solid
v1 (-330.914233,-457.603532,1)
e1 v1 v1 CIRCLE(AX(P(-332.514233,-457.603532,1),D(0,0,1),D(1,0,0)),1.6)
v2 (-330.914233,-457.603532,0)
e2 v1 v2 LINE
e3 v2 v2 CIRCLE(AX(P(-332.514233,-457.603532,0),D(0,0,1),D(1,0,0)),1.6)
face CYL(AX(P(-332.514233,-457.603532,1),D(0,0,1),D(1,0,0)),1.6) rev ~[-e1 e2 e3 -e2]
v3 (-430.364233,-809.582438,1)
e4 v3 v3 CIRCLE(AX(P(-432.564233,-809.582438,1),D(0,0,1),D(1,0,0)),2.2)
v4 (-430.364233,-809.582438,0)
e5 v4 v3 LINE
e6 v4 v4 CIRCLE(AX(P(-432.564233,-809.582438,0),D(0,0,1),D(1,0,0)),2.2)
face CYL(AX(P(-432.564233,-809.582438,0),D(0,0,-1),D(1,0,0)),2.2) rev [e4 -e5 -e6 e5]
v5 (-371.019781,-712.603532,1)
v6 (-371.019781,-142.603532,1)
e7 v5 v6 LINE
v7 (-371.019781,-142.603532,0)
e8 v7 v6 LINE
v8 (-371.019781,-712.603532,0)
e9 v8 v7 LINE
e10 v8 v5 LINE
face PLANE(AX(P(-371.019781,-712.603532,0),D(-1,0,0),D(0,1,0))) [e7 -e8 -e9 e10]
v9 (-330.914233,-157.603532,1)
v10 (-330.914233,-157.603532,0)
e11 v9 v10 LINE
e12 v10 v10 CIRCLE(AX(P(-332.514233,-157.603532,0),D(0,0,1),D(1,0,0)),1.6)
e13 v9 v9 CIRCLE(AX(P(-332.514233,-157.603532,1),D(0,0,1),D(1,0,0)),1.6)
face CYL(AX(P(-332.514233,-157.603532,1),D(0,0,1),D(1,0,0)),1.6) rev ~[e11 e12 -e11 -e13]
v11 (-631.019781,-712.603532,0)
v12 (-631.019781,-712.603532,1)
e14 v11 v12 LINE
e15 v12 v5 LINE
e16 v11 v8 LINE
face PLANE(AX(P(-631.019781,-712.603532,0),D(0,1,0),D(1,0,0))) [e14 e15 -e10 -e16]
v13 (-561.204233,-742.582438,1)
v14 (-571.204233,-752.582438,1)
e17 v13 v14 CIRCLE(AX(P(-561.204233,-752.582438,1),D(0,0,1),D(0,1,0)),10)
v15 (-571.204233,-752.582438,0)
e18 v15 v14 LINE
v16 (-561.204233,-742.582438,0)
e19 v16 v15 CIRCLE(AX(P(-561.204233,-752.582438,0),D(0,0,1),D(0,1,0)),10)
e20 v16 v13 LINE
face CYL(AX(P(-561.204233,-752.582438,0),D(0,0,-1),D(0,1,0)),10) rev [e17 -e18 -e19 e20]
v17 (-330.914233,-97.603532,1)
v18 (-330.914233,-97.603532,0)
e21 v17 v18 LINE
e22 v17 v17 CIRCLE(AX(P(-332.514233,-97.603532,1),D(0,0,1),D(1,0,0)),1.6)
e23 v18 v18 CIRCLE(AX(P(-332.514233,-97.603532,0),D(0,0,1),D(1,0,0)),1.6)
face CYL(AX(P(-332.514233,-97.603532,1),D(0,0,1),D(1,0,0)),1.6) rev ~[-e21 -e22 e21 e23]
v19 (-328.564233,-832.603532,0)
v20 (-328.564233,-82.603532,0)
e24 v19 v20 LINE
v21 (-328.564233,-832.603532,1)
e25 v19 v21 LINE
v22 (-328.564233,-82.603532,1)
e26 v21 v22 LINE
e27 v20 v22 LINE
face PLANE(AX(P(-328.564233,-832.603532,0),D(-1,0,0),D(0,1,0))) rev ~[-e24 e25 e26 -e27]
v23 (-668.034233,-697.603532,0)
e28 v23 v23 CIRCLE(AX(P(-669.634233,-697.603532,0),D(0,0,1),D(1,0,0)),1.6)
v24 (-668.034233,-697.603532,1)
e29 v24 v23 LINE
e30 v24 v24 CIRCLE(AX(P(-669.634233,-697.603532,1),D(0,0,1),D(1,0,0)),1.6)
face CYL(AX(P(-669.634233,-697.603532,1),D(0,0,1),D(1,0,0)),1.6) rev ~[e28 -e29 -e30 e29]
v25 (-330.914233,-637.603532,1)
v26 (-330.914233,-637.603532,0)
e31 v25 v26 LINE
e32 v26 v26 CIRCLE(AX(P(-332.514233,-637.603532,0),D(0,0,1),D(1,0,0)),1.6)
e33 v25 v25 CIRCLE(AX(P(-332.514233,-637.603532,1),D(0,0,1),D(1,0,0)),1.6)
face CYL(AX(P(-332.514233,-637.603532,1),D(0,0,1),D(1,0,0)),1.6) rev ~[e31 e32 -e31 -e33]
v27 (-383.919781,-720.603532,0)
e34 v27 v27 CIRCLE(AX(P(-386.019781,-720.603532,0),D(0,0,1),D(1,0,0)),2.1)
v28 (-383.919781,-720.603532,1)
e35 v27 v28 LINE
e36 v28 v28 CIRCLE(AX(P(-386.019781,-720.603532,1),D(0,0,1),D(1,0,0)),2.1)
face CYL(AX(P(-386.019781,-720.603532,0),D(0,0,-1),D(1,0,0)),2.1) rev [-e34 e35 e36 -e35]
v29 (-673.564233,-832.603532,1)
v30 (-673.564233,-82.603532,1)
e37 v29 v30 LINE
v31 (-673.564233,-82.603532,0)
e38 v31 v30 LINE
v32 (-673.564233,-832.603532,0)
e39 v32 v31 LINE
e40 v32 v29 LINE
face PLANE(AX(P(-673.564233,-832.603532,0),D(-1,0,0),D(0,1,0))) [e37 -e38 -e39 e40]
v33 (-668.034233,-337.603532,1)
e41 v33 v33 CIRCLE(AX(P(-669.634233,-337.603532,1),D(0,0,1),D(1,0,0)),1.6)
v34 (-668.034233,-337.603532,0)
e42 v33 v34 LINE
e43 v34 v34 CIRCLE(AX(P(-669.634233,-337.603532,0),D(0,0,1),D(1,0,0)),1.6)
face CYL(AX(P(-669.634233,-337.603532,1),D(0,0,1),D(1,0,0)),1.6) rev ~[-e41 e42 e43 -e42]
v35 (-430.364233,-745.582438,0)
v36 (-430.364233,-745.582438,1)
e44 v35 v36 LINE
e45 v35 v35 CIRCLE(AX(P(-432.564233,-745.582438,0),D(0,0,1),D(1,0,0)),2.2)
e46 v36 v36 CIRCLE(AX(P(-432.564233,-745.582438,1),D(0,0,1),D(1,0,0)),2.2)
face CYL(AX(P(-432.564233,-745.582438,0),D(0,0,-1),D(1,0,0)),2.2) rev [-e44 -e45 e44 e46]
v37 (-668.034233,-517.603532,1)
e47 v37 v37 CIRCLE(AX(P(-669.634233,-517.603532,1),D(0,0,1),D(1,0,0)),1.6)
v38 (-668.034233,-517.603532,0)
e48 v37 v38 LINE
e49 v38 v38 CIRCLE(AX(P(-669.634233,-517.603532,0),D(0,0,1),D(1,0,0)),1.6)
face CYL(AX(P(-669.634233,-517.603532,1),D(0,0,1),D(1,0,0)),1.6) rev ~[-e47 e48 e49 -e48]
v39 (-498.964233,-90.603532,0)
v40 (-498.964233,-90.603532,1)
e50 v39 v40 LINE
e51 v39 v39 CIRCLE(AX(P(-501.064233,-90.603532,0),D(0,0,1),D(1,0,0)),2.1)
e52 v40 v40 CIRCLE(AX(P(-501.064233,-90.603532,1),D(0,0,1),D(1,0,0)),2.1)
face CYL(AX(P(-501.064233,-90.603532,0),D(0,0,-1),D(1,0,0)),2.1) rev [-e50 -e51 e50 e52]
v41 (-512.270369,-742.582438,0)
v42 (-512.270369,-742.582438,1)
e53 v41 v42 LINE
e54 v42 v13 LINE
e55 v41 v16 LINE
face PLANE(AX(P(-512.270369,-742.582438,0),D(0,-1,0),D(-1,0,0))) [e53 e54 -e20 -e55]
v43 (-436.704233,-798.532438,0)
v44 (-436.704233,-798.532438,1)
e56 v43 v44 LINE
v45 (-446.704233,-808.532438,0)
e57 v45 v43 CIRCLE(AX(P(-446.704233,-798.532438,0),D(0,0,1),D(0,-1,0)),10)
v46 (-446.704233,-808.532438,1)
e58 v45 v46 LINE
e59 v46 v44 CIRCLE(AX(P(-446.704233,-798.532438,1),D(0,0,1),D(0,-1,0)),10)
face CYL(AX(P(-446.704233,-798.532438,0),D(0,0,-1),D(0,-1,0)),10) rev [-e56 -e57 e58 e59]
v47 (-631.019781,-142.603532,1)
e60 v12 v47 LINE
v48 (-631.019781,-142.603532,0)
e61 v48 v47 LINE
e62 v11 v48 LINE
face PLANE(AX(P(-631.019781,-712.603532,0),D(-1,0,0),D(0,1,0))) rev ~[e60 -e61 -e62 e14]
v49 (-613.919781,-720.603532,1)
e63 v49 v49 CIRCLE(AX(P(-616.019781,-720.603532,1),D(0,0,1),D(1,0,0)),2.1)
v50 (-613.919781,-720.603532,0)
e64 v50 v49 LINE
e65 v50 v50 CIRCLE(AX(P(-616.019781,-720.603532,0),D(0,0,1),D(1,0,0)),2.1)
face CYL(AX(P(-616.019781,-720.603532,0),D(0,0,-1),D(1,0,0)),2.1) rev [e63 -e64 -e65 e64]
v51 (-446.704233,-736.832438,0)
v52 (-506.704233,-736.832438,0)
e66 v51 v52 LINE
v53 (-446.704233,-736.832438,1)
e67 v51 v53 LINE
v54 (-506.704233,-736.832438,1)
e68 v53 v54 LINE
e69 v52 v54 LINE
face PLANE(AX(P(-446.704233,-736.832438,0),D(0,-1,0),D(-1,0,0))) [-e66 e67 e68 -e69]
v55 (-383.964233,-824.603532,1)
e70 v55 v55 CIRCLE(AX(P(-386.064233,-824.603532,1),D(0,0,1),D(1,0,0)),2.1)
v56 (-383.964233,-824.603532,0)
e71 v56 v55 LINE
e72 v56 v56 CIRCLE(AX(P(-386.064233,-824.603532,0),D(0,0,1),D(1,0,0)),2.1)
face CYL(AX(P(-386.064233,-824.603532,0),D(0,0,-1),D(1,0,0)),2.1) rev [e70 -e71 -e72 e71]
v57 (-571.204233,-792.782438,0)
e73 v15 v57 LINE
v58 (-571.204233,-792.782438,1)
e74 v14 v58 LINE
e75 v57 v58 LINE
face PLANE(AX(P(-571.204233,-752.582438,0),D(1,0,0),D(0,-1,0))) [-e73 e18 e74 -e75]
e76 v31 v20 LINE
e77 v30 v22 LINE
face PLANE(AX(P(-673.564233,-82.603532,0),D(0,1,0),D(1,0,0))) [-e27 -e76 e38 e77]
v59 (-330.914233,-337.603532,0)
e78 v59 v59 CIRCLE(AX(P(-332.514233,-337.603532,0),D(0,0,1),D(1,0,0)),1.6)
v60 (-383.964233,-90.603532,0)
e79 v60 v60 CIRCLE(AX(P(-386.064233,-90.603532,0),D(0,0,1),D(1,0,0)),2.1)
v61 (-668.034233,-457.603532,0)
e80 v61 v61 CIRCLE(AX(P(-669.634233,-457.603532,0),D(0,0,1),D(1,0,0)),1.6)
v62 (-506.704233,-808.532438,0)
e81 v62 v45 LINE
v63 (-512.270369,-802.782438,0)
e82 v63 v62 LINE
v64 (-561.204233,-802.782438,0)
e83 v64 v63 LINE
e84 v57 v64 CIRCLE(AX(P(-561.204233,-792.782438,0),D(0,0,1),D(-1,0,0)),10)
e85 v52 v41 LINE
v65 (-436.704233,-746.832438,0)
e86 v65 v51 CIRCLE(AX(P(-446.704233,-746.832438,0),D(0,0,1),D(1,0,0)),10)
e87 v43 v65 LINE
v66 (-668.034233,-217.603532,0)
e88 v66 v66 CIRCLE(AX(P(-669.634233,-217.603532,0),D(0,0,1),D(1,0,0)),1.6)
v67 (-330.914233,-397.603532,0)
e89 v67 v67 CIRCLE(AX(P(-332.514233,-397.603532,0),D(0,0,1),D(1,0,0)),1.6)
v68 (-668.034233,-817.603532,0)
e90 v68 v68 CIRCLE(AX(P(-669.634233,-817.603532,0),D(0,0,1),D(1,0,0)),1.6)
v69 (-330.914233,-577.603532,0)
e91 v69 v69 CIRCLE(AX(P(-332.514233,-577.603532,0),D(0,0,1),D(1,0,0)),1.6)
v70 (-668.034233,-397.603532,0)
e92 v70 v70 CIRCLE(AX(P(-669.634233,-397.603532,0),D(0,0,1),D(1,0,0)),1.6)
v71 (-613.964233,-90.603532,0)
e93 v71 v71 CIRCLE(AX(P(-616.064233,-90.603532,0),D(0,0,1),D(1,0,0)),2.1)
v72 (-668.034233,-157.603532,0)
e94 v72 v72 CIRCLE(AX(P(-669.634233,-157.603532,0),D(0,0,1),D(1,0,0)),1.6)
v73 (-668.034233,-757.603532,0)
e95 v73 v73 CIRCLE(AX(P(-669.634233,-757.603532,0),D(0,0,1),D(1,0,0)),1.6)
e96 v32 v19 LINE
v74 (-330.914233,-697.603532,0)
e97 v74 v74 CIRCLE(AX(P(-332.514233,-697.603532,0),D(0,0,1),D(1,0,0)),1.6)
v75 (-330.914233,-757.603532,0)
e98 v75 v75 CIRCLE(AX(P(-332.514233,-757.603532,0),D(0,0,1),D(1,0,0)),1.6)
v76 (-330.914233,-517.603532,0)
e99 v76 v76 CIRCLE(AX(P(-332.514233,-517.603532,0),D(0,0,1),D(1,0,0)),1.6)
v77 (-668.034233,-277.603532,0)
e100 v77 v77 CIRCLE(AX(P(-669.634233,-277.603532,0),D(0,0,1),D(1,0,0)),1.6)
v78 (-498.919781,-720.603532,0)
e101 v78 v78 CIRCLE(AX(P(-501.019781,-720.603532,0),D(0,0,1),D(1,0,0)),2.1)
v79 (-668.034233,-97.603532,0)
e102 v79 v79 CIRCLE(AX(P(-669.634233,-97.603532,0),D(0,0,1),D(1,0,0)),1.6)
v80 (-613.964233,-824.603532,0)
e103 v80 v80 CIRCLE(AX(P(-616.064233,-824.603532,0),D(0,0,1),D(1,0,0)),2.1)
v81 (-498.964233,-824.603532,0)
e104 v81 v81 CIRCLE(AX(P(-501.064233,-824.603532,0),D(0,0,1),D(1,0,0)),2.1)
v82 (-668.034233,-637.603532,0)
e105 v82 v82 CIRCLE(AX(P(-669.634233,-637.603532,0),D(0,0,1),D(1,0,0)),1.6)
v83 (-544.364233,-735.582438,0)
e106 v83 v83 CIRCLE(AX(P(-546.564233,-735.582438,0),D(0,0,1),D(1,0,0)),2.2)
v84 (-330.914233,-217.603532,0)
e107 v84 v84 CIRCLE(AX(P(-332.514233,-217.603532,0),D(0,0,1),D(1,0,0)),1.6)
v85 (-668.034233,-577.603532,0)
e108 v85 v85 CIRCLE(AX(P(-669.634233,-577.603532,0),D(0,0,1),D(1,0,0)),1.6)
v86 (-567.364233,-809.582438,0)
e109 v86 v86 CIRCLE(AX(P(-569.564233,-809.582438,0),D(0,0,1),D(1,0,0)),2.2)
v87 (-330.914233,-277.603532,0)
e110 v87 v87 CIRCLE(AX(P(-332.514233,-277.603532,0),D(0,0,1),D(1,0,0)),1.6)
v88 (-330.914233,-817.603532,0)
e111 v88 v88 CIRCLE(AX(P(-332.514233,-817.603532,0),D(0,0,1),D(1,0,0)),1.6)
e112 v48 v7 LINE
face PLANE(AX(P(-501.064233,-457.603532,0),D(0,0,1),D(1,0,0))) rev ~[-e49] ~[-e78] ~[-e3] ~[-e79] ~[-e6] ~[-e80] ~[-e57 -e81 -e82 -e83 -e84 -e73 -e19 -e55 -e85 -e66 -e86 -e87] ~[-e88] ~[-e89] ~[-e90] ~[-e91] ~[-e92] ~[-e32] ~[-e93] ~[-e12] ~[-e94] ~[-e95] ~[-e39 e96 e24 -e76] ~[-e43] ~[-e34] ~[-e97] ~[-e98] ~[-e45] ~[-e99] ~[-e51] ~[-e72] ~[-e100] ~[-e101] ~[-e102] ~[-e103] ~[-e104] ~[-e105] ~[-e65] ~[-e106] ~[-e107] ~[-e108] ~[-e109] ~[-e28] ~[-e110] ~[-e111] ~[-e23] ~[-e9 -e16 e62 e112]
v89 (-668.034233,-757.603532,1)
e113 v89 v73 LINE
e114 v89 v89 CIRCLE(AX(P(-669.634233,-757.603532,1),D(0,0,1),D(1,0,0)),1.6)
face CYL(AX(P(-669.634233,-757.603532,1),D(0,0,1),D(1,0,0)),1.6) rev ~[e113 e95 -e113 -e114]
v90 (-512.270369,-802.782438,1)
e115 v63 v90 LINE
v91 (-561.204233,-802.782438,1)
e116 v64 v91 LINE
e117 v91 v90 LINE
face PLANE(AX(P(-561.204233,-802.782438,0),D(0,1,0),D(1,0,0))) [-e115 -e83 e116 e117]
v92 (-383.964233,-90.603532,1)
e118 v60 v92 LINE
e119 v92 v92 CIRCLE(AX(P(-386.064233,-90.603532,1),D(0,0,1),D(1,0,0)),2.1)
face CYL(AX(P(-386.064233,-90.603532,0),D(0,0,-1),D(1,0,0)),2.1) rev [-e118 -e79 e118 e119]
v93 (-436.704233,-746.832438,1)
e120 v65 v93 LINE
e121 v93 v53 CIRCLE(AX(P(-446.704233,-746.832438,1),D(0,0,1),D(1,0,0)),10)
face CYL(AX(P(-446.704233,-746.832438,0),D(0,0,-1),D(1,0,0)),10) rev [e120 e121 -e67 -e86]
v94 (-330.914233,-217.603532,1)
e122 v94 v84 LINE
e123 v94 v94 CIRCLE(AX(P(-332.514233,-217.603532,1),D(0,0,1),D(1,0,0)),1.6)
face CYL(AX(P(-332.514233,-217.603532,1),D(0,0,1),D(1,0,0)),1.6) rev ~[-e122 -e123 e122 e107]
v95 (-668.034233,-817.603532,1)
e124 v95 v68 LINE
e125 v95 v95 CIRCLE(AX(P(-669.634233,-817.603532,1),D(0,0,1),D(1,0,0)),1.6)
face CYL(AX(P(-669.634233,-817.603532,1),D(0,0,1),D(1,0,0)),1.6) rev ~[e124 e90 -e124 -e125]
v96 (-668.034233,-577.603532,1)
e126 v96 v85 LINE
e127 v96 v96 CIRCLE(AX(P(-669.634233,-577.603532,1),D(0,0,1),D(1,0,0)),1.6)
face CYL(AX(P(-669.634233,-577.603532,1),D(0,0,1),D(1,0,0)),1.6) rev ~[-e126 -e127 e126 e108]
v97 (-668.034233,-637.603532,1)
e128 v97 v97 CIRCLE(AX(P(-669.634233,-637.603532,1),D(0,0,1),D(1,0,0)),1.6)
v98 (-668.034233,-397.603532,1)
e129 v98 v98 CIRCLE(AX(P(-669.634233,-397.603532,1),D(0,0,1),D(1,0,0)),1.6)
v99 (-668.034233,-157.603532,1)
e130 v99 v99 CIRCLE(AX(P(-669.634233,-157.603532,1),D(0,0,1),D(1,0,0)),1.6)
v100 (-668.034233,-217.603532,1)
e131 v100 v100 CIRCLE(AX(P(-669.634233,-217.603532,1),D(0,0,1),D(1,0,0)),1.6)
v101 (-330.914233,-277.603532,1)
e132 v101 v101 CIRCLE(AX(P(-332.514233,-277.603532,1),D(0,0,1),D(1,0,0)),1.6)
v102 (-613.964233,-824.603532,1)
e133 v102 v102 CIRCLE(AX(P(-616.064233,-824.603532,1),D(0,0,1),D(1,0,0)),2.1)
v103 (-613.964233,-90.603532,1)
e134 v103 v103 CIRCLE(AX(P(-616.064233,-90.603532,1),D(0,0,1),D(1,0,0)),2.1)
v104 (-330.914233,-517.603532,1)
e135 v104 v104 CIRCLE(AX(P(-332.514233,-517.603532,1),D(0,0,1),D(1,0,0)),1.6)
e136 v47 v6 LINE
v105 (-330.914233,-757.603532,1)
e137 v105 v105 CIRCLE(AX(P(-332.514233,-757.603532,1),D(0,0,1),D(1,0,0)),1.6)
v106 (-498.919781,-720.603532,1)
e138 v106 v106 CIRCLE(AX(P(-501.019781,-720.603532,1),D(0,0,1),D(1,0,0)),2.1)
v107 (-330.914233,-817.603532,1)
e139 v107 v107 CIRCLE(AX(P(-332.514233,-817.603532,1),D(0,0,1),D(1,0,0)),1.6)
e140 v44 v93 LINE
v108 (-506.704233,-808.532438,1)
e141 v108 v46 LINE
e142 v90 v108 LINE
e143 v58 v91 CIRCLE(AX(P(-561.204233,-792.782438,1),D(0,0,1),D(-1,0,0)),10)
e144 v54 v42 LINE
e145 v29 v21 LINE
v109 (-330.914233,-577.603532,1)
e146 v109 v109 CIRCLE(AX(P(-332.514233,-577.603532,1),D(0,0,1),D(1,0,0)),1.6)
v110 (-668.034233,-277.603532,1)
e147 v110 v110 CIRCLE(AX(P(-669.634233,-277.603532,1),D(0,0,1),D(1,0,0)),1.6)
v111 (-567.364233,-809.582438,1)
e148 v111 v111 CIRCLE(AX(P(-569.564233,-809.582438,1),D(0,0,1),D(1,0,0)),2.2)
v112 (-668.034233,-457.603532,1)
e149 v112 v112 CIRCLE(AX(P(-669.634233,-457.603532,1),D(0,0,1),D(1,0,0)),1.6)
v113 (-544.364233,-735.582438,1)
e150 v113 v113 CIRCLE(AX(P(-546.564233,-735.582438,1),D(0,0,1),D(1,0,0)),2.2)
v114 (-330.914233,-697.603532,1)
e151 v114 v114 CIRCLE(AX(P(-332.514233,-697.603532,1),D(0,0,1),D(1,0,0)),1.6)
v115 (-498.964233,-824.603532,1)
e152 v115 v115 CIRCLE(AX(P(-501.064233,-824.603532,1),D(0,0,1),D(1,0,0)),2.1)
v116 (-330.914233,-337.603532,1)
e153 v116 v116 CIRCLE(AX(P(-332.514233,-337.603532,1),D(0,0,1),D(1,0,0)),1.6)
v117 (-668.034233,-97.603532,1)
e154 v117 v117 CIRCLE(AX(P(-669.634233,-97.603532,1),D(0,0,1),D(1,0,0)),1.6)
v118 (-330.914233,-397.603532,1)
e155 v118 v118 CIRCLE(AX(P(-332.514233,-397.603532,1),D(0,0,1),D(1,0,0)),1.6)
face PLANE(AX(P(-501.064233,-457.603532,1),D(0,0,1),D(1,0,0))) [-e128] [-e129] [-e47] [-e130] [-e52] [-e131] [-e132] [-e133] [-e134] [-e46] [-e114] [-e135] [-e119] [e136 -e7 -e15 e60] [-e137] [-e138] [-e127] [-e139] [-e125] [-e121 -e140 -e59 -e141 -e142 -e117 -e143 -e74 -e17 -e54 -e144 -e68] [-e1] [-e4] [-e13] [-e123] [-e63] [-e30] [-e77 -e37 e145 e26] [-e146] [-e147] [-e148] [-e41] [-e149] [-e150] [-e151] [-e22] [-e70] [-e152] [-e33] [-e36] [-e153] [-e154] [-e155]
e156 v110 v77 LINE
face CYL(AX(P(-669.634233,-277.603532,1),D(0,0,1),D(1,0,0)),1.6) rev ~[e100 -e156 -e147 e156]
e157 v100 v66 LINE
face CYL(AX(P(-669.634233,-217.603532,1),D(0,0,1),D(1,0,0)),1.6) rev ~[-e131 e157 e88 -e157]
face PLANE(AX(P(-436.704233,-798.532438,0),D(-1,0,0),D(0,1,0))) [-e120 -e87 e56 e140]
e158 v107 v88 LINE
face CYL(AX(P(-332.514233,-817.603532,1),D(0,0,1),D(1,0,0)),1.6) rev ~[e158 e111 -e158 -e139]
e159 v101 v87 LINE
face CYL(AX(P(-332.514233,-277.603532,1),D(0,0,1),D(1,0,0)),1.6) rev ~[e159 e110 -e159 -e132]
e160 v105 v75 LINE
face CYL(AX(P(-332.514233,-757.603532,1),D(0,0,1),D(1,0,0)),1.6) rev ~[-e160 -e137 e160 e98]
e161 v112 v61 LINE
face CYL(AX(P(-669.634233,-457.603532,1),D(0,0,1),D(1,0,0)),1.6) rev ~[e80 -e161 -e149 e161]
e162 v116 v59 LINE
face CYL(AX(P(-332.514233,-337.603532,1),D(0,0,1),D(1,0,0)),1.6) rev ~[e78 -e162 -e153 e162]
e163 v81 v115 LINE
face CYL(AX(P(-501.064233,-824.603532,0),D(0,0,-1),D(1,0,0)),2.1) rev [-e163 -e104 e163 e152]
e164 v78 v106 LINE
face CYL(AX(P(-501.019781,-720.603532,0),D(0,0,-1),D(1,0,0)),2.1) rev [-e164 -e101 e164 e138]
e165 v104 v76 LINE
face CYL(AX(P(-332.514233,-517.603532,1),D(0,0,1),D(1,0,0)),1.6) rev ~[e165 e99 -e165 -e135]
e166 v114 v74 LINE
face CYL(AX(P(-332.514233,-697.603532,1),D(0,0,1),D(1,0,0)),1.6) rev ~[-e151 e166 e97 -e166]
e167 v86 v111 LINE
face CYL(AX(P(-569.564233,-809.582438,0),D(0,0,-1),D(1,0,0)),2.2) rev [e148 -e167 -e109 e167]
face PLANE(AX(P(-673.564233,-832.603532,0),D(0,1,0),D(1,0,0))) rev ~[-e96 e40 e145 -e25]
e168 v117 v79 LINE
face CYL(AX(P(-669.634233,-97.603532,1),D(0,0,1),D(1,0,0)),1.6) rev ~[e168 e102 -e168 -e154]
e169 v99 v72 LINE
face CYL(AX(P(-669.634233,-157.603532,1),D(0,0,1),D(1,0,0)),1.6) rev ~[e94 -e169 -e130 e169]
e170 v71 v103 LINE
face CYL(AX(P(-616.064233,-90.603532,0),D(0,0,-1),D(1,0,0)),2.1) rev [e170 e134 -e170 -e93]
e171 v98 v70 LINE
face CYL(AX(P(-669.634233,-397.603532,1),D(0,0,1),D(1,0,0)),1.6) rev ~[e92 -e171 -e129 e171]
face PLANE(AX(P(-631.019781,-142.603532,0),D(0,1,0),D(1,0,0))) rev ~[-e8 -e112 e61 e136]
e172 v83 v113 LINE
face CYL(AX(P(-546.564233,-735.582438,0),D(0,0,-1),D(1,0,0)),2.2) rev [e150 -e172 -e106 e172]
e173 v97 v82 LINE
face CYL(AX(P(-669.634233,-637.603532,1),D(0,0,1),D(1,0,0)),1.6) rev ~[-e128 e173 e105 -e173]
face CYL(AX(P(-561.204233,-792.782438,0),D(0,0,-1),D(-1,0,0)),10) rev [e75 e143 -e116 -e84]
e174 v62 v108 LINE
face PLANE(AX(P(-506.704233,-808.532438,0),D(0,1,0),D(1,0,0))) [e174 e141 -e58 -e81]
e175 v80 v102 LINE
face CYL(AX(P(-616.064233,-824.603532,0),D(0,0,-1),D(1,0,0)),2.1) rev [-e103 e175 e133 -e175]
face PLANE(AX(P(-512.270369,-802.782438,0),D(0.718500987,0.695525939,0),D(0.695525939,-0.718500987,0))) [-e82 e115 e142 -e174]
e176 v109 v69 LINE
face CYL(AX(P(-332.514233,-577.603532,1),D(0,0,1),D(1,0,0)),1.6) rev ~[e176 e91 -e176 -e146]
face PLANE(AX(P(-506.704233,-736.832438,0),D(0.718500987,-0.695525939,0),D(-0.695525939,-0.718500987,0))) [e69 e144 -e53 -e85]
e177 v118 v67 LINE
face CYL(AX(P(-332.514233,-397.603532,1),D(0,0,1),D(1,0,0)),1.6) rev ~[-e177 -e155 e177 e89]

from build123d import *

# Parameters (mm, degrees)
SKETCH1_W           = 345
SKETCH1_H           = 750
SKETCH1_R           = 2.2
SKETCH1_R_2         = 2.1
SKETCH1_W_2         = 260
SKETCH1_H_2         = 570
BOSS_EXTRUDE1_DEPTH = 1
SKETCH2_R           = 1.6
CUT_EXTRUDE1_DEPTH  = 1
SKETCH3_R           = 1.6
CUT_EXTRUDE2_DEPTH  = 1


with BuildPart() as part:
    # Sketch1 → Boss-Extrude1 (new body)
    with BuildSketch(Plane.XY):
        with Locations((-501.064232917, -457.603531907)):
            Rectangle(SKETCH1_W, SKETCH1_H)
        with Locations((-432.564232917, -809.582438144)):
            Circle(SKETCH1_R, mode=Mode.SUBTRACT)
        with Locations((-432.564232917, -745.582438144)):
            Circle(SKETCH1_R, mode=Mode.SUBTRACT)
        with Locations((-546.564232917, -735.582438144)):
            Circle(SKETCH1_R, mode=Mode.SUBTRACT)
        with Locations((-569.564232917, -809.582438144)):
            Circle(SKETCH1_R, mode=Mode.SUBTRACT)
        with Locations((-501.064232917, -90.603531907)):
            Circle(SKETCH1_R_2, mode=Mode.SUBTRACT)
        with Locations((-616.064232917, -90.603531907)):
            Circle(SKETCH1_R_2, mode=Mode.SUBTRACT)
        with Locations((-386.064232917, -90.603531907)):
            Circle(SKETCH1_R_2, mode=Mode.SUBTRACT)
        with Locations((-616.01978091, -720.603531907)):
            Circle(SKETCH1_R_2, mode=Mode.SUBTRACT)
        with Locations((-501.01978091, -720.603531907)):
            Circle(SKETCH1_R_2, mode=Mode.SUBTRACT)
        with Locations((-386.01978091, -720.603531907)):
            Circle(SKETCH1_R_2, mode=Mode.SUBTRACT)
        with Locations((-386.064232917, -824.603531907)):
            Circle(SKETCH1_R_2, mode=Mode.SUBTRACT)
        with Locations((-501.064232917, -824.603531907)):
            Circle(SKETCH1_R_2, mode=Mode.SUBTRACT)
        with Locations((-616.064232917, -824.603531907)):
            Circle(SKETCH1_R_2, mode=Mode.SUBTRACT)
        with Locations((-501.01978091, -427.603531907)):
            Rectangle(SKETCH1_W_2, SKETCH1_H_2, mode=Mode.SUBTRACT)
        with BuildLine():
            Line((-436.704232917, -798.532438144), (-436.704232917, -746.832438144))
            ThreePointArc((-436.704232917, -746.832438144), (-439.633165105, -739.761370332), (-446.704232917, -736.832438144))
            Line((-446.704232917, -736.832438144), (-506.704232917, -736.832438144))
            Line((-506.704232917, -736.832438144), (-512.270368826, -742.582438144))
            Line((-512.270368826, -742.582438144), (-561.204232917, -742.582438144))
            ThreePointArc((-561.204232917, -742.582438144), (-568.275300729, -745.511370332), (-571.204232917, -752.582438144))
            Line((-571.204232917, -752.582438144), (-571.204232917, -792.782438144))
            ThreePointArc((-571.204232917, -792.782438144), (-568.275300729, -799.853505955), (-561.204232917, -802.782438144))
            Line((-561.204232917, -802.782438144), (-512.270368826, -802.782438144))
            Line((-512.270368826, -802.782438144), (-506.704232917, -808.532438144))
            Line((-506.704232917, -808.532438144), (-446.704232917, -808.532438144))
            ThreePointArc((-446.704232917, -808.532438144), (-439.633165105, -805.603505955), (-436.704232917, -798.532438144))
        make_face(mode=Mode.SUBTRACT)
    extrude(amount=BOSS_EXTRUDE1_DEPTH)

    # Sketch2 → Cut-Extrude1 (cut)
    with BuildSketch(Plane.XY.offset(1)):
        with Locations((-669.634232917, -97.603531907)):
            Circle(SKETCH2_R)
        with Locations((-669.634232917, -817.603531907)):
            Circle(SKETCH2_R)
        with Locations((-669.634232917, -757.603531907)):
            Circle(SKETCH2_R)
        with Locations((-669.634232917, -697.603531907)):
            Circle(SKETCH2_R)
        with Locations((-669.634232917, -637.603531907)):
            Circle(SKETCH2_R)
        with Locations((-669.634232917, -577.603531907)):
            Circle(SKETCH2_R)
        with Locations((-669.634232917, -517.603531907)):
            Circle(SKETCH2_R)
        with Locations((-669.634232917, -457.603531907)):
            Circle(SKETCH2_R)
        with Locations((-669.634232917, -397.603531907)):
            Circle(SKETCH2_R)
        with Locations((-669.634232917, -337.603531907)):
            Circle(SKETCH2_R)
        with Locations((-669.634232917, -277.603531907)):
            Circle(SKETCH2_R)
        with Locations((-669.634232917, -217.603531907)):
            Circle(SKETCH2_R)
        with Locations((-669.634232917, -157.603531907)):
            Circle(SKETCH2_R)
    extrude(amount=-CUT_EXTRUDE1_DEPTH, mode=Mode.SUBTRACT)

    # Sketch3 → Cut-Extrude2 (cut)
    with BuildSketch(Plane.XY.offset(1)):
        with Locations((-332.514232917, -97.603531907)):
            Circle(SKETCH3_R)
        with Locations((-332.514232917, -817.603531907)):
            Circle(SKETCH3_R)
        with Locations((-332.514232917, -757.603531907)):
            Circle(SKETCH3_R)
        with Locations((-332.514232917, -697.603531907)):
            Circle(SKETCH3_R)
        with Locations((-332.514232917, -637.603531907)):
            Circle(SKETCH3_R)
        with Locations((-332.514232917, -577.603531907)):
            Circle(SKETCH3_R)
        with Locations((-332.514232917, -517.603531907)):
            Circle(SKETCH3_R)
        with Locations((-332.514232917, -457.603531907)):
            Circle(SKETCH3_R)
        with Locations((-332.514232917, -397.603531907)):
            Circle(SKETCH3_R)
        with Locations((-332.514232917, -337.603531907)):
            Circle(SKETCH3_R)
        with Locations((-332.514232917, -277.603531907)):
            Circle(SKETCH3_R)
        with Locations((-332.514232917, -217.603531907)):
            Circle(SKETCH3_R)
        with Locations((-332.514232917, -157.603531907)):
            Circle(SKETCH3_R)
    extrude(amount=-CUT_EXTRUDE2_DEPTH, mode=Mode.SUBTRACT)


solid = part.part
